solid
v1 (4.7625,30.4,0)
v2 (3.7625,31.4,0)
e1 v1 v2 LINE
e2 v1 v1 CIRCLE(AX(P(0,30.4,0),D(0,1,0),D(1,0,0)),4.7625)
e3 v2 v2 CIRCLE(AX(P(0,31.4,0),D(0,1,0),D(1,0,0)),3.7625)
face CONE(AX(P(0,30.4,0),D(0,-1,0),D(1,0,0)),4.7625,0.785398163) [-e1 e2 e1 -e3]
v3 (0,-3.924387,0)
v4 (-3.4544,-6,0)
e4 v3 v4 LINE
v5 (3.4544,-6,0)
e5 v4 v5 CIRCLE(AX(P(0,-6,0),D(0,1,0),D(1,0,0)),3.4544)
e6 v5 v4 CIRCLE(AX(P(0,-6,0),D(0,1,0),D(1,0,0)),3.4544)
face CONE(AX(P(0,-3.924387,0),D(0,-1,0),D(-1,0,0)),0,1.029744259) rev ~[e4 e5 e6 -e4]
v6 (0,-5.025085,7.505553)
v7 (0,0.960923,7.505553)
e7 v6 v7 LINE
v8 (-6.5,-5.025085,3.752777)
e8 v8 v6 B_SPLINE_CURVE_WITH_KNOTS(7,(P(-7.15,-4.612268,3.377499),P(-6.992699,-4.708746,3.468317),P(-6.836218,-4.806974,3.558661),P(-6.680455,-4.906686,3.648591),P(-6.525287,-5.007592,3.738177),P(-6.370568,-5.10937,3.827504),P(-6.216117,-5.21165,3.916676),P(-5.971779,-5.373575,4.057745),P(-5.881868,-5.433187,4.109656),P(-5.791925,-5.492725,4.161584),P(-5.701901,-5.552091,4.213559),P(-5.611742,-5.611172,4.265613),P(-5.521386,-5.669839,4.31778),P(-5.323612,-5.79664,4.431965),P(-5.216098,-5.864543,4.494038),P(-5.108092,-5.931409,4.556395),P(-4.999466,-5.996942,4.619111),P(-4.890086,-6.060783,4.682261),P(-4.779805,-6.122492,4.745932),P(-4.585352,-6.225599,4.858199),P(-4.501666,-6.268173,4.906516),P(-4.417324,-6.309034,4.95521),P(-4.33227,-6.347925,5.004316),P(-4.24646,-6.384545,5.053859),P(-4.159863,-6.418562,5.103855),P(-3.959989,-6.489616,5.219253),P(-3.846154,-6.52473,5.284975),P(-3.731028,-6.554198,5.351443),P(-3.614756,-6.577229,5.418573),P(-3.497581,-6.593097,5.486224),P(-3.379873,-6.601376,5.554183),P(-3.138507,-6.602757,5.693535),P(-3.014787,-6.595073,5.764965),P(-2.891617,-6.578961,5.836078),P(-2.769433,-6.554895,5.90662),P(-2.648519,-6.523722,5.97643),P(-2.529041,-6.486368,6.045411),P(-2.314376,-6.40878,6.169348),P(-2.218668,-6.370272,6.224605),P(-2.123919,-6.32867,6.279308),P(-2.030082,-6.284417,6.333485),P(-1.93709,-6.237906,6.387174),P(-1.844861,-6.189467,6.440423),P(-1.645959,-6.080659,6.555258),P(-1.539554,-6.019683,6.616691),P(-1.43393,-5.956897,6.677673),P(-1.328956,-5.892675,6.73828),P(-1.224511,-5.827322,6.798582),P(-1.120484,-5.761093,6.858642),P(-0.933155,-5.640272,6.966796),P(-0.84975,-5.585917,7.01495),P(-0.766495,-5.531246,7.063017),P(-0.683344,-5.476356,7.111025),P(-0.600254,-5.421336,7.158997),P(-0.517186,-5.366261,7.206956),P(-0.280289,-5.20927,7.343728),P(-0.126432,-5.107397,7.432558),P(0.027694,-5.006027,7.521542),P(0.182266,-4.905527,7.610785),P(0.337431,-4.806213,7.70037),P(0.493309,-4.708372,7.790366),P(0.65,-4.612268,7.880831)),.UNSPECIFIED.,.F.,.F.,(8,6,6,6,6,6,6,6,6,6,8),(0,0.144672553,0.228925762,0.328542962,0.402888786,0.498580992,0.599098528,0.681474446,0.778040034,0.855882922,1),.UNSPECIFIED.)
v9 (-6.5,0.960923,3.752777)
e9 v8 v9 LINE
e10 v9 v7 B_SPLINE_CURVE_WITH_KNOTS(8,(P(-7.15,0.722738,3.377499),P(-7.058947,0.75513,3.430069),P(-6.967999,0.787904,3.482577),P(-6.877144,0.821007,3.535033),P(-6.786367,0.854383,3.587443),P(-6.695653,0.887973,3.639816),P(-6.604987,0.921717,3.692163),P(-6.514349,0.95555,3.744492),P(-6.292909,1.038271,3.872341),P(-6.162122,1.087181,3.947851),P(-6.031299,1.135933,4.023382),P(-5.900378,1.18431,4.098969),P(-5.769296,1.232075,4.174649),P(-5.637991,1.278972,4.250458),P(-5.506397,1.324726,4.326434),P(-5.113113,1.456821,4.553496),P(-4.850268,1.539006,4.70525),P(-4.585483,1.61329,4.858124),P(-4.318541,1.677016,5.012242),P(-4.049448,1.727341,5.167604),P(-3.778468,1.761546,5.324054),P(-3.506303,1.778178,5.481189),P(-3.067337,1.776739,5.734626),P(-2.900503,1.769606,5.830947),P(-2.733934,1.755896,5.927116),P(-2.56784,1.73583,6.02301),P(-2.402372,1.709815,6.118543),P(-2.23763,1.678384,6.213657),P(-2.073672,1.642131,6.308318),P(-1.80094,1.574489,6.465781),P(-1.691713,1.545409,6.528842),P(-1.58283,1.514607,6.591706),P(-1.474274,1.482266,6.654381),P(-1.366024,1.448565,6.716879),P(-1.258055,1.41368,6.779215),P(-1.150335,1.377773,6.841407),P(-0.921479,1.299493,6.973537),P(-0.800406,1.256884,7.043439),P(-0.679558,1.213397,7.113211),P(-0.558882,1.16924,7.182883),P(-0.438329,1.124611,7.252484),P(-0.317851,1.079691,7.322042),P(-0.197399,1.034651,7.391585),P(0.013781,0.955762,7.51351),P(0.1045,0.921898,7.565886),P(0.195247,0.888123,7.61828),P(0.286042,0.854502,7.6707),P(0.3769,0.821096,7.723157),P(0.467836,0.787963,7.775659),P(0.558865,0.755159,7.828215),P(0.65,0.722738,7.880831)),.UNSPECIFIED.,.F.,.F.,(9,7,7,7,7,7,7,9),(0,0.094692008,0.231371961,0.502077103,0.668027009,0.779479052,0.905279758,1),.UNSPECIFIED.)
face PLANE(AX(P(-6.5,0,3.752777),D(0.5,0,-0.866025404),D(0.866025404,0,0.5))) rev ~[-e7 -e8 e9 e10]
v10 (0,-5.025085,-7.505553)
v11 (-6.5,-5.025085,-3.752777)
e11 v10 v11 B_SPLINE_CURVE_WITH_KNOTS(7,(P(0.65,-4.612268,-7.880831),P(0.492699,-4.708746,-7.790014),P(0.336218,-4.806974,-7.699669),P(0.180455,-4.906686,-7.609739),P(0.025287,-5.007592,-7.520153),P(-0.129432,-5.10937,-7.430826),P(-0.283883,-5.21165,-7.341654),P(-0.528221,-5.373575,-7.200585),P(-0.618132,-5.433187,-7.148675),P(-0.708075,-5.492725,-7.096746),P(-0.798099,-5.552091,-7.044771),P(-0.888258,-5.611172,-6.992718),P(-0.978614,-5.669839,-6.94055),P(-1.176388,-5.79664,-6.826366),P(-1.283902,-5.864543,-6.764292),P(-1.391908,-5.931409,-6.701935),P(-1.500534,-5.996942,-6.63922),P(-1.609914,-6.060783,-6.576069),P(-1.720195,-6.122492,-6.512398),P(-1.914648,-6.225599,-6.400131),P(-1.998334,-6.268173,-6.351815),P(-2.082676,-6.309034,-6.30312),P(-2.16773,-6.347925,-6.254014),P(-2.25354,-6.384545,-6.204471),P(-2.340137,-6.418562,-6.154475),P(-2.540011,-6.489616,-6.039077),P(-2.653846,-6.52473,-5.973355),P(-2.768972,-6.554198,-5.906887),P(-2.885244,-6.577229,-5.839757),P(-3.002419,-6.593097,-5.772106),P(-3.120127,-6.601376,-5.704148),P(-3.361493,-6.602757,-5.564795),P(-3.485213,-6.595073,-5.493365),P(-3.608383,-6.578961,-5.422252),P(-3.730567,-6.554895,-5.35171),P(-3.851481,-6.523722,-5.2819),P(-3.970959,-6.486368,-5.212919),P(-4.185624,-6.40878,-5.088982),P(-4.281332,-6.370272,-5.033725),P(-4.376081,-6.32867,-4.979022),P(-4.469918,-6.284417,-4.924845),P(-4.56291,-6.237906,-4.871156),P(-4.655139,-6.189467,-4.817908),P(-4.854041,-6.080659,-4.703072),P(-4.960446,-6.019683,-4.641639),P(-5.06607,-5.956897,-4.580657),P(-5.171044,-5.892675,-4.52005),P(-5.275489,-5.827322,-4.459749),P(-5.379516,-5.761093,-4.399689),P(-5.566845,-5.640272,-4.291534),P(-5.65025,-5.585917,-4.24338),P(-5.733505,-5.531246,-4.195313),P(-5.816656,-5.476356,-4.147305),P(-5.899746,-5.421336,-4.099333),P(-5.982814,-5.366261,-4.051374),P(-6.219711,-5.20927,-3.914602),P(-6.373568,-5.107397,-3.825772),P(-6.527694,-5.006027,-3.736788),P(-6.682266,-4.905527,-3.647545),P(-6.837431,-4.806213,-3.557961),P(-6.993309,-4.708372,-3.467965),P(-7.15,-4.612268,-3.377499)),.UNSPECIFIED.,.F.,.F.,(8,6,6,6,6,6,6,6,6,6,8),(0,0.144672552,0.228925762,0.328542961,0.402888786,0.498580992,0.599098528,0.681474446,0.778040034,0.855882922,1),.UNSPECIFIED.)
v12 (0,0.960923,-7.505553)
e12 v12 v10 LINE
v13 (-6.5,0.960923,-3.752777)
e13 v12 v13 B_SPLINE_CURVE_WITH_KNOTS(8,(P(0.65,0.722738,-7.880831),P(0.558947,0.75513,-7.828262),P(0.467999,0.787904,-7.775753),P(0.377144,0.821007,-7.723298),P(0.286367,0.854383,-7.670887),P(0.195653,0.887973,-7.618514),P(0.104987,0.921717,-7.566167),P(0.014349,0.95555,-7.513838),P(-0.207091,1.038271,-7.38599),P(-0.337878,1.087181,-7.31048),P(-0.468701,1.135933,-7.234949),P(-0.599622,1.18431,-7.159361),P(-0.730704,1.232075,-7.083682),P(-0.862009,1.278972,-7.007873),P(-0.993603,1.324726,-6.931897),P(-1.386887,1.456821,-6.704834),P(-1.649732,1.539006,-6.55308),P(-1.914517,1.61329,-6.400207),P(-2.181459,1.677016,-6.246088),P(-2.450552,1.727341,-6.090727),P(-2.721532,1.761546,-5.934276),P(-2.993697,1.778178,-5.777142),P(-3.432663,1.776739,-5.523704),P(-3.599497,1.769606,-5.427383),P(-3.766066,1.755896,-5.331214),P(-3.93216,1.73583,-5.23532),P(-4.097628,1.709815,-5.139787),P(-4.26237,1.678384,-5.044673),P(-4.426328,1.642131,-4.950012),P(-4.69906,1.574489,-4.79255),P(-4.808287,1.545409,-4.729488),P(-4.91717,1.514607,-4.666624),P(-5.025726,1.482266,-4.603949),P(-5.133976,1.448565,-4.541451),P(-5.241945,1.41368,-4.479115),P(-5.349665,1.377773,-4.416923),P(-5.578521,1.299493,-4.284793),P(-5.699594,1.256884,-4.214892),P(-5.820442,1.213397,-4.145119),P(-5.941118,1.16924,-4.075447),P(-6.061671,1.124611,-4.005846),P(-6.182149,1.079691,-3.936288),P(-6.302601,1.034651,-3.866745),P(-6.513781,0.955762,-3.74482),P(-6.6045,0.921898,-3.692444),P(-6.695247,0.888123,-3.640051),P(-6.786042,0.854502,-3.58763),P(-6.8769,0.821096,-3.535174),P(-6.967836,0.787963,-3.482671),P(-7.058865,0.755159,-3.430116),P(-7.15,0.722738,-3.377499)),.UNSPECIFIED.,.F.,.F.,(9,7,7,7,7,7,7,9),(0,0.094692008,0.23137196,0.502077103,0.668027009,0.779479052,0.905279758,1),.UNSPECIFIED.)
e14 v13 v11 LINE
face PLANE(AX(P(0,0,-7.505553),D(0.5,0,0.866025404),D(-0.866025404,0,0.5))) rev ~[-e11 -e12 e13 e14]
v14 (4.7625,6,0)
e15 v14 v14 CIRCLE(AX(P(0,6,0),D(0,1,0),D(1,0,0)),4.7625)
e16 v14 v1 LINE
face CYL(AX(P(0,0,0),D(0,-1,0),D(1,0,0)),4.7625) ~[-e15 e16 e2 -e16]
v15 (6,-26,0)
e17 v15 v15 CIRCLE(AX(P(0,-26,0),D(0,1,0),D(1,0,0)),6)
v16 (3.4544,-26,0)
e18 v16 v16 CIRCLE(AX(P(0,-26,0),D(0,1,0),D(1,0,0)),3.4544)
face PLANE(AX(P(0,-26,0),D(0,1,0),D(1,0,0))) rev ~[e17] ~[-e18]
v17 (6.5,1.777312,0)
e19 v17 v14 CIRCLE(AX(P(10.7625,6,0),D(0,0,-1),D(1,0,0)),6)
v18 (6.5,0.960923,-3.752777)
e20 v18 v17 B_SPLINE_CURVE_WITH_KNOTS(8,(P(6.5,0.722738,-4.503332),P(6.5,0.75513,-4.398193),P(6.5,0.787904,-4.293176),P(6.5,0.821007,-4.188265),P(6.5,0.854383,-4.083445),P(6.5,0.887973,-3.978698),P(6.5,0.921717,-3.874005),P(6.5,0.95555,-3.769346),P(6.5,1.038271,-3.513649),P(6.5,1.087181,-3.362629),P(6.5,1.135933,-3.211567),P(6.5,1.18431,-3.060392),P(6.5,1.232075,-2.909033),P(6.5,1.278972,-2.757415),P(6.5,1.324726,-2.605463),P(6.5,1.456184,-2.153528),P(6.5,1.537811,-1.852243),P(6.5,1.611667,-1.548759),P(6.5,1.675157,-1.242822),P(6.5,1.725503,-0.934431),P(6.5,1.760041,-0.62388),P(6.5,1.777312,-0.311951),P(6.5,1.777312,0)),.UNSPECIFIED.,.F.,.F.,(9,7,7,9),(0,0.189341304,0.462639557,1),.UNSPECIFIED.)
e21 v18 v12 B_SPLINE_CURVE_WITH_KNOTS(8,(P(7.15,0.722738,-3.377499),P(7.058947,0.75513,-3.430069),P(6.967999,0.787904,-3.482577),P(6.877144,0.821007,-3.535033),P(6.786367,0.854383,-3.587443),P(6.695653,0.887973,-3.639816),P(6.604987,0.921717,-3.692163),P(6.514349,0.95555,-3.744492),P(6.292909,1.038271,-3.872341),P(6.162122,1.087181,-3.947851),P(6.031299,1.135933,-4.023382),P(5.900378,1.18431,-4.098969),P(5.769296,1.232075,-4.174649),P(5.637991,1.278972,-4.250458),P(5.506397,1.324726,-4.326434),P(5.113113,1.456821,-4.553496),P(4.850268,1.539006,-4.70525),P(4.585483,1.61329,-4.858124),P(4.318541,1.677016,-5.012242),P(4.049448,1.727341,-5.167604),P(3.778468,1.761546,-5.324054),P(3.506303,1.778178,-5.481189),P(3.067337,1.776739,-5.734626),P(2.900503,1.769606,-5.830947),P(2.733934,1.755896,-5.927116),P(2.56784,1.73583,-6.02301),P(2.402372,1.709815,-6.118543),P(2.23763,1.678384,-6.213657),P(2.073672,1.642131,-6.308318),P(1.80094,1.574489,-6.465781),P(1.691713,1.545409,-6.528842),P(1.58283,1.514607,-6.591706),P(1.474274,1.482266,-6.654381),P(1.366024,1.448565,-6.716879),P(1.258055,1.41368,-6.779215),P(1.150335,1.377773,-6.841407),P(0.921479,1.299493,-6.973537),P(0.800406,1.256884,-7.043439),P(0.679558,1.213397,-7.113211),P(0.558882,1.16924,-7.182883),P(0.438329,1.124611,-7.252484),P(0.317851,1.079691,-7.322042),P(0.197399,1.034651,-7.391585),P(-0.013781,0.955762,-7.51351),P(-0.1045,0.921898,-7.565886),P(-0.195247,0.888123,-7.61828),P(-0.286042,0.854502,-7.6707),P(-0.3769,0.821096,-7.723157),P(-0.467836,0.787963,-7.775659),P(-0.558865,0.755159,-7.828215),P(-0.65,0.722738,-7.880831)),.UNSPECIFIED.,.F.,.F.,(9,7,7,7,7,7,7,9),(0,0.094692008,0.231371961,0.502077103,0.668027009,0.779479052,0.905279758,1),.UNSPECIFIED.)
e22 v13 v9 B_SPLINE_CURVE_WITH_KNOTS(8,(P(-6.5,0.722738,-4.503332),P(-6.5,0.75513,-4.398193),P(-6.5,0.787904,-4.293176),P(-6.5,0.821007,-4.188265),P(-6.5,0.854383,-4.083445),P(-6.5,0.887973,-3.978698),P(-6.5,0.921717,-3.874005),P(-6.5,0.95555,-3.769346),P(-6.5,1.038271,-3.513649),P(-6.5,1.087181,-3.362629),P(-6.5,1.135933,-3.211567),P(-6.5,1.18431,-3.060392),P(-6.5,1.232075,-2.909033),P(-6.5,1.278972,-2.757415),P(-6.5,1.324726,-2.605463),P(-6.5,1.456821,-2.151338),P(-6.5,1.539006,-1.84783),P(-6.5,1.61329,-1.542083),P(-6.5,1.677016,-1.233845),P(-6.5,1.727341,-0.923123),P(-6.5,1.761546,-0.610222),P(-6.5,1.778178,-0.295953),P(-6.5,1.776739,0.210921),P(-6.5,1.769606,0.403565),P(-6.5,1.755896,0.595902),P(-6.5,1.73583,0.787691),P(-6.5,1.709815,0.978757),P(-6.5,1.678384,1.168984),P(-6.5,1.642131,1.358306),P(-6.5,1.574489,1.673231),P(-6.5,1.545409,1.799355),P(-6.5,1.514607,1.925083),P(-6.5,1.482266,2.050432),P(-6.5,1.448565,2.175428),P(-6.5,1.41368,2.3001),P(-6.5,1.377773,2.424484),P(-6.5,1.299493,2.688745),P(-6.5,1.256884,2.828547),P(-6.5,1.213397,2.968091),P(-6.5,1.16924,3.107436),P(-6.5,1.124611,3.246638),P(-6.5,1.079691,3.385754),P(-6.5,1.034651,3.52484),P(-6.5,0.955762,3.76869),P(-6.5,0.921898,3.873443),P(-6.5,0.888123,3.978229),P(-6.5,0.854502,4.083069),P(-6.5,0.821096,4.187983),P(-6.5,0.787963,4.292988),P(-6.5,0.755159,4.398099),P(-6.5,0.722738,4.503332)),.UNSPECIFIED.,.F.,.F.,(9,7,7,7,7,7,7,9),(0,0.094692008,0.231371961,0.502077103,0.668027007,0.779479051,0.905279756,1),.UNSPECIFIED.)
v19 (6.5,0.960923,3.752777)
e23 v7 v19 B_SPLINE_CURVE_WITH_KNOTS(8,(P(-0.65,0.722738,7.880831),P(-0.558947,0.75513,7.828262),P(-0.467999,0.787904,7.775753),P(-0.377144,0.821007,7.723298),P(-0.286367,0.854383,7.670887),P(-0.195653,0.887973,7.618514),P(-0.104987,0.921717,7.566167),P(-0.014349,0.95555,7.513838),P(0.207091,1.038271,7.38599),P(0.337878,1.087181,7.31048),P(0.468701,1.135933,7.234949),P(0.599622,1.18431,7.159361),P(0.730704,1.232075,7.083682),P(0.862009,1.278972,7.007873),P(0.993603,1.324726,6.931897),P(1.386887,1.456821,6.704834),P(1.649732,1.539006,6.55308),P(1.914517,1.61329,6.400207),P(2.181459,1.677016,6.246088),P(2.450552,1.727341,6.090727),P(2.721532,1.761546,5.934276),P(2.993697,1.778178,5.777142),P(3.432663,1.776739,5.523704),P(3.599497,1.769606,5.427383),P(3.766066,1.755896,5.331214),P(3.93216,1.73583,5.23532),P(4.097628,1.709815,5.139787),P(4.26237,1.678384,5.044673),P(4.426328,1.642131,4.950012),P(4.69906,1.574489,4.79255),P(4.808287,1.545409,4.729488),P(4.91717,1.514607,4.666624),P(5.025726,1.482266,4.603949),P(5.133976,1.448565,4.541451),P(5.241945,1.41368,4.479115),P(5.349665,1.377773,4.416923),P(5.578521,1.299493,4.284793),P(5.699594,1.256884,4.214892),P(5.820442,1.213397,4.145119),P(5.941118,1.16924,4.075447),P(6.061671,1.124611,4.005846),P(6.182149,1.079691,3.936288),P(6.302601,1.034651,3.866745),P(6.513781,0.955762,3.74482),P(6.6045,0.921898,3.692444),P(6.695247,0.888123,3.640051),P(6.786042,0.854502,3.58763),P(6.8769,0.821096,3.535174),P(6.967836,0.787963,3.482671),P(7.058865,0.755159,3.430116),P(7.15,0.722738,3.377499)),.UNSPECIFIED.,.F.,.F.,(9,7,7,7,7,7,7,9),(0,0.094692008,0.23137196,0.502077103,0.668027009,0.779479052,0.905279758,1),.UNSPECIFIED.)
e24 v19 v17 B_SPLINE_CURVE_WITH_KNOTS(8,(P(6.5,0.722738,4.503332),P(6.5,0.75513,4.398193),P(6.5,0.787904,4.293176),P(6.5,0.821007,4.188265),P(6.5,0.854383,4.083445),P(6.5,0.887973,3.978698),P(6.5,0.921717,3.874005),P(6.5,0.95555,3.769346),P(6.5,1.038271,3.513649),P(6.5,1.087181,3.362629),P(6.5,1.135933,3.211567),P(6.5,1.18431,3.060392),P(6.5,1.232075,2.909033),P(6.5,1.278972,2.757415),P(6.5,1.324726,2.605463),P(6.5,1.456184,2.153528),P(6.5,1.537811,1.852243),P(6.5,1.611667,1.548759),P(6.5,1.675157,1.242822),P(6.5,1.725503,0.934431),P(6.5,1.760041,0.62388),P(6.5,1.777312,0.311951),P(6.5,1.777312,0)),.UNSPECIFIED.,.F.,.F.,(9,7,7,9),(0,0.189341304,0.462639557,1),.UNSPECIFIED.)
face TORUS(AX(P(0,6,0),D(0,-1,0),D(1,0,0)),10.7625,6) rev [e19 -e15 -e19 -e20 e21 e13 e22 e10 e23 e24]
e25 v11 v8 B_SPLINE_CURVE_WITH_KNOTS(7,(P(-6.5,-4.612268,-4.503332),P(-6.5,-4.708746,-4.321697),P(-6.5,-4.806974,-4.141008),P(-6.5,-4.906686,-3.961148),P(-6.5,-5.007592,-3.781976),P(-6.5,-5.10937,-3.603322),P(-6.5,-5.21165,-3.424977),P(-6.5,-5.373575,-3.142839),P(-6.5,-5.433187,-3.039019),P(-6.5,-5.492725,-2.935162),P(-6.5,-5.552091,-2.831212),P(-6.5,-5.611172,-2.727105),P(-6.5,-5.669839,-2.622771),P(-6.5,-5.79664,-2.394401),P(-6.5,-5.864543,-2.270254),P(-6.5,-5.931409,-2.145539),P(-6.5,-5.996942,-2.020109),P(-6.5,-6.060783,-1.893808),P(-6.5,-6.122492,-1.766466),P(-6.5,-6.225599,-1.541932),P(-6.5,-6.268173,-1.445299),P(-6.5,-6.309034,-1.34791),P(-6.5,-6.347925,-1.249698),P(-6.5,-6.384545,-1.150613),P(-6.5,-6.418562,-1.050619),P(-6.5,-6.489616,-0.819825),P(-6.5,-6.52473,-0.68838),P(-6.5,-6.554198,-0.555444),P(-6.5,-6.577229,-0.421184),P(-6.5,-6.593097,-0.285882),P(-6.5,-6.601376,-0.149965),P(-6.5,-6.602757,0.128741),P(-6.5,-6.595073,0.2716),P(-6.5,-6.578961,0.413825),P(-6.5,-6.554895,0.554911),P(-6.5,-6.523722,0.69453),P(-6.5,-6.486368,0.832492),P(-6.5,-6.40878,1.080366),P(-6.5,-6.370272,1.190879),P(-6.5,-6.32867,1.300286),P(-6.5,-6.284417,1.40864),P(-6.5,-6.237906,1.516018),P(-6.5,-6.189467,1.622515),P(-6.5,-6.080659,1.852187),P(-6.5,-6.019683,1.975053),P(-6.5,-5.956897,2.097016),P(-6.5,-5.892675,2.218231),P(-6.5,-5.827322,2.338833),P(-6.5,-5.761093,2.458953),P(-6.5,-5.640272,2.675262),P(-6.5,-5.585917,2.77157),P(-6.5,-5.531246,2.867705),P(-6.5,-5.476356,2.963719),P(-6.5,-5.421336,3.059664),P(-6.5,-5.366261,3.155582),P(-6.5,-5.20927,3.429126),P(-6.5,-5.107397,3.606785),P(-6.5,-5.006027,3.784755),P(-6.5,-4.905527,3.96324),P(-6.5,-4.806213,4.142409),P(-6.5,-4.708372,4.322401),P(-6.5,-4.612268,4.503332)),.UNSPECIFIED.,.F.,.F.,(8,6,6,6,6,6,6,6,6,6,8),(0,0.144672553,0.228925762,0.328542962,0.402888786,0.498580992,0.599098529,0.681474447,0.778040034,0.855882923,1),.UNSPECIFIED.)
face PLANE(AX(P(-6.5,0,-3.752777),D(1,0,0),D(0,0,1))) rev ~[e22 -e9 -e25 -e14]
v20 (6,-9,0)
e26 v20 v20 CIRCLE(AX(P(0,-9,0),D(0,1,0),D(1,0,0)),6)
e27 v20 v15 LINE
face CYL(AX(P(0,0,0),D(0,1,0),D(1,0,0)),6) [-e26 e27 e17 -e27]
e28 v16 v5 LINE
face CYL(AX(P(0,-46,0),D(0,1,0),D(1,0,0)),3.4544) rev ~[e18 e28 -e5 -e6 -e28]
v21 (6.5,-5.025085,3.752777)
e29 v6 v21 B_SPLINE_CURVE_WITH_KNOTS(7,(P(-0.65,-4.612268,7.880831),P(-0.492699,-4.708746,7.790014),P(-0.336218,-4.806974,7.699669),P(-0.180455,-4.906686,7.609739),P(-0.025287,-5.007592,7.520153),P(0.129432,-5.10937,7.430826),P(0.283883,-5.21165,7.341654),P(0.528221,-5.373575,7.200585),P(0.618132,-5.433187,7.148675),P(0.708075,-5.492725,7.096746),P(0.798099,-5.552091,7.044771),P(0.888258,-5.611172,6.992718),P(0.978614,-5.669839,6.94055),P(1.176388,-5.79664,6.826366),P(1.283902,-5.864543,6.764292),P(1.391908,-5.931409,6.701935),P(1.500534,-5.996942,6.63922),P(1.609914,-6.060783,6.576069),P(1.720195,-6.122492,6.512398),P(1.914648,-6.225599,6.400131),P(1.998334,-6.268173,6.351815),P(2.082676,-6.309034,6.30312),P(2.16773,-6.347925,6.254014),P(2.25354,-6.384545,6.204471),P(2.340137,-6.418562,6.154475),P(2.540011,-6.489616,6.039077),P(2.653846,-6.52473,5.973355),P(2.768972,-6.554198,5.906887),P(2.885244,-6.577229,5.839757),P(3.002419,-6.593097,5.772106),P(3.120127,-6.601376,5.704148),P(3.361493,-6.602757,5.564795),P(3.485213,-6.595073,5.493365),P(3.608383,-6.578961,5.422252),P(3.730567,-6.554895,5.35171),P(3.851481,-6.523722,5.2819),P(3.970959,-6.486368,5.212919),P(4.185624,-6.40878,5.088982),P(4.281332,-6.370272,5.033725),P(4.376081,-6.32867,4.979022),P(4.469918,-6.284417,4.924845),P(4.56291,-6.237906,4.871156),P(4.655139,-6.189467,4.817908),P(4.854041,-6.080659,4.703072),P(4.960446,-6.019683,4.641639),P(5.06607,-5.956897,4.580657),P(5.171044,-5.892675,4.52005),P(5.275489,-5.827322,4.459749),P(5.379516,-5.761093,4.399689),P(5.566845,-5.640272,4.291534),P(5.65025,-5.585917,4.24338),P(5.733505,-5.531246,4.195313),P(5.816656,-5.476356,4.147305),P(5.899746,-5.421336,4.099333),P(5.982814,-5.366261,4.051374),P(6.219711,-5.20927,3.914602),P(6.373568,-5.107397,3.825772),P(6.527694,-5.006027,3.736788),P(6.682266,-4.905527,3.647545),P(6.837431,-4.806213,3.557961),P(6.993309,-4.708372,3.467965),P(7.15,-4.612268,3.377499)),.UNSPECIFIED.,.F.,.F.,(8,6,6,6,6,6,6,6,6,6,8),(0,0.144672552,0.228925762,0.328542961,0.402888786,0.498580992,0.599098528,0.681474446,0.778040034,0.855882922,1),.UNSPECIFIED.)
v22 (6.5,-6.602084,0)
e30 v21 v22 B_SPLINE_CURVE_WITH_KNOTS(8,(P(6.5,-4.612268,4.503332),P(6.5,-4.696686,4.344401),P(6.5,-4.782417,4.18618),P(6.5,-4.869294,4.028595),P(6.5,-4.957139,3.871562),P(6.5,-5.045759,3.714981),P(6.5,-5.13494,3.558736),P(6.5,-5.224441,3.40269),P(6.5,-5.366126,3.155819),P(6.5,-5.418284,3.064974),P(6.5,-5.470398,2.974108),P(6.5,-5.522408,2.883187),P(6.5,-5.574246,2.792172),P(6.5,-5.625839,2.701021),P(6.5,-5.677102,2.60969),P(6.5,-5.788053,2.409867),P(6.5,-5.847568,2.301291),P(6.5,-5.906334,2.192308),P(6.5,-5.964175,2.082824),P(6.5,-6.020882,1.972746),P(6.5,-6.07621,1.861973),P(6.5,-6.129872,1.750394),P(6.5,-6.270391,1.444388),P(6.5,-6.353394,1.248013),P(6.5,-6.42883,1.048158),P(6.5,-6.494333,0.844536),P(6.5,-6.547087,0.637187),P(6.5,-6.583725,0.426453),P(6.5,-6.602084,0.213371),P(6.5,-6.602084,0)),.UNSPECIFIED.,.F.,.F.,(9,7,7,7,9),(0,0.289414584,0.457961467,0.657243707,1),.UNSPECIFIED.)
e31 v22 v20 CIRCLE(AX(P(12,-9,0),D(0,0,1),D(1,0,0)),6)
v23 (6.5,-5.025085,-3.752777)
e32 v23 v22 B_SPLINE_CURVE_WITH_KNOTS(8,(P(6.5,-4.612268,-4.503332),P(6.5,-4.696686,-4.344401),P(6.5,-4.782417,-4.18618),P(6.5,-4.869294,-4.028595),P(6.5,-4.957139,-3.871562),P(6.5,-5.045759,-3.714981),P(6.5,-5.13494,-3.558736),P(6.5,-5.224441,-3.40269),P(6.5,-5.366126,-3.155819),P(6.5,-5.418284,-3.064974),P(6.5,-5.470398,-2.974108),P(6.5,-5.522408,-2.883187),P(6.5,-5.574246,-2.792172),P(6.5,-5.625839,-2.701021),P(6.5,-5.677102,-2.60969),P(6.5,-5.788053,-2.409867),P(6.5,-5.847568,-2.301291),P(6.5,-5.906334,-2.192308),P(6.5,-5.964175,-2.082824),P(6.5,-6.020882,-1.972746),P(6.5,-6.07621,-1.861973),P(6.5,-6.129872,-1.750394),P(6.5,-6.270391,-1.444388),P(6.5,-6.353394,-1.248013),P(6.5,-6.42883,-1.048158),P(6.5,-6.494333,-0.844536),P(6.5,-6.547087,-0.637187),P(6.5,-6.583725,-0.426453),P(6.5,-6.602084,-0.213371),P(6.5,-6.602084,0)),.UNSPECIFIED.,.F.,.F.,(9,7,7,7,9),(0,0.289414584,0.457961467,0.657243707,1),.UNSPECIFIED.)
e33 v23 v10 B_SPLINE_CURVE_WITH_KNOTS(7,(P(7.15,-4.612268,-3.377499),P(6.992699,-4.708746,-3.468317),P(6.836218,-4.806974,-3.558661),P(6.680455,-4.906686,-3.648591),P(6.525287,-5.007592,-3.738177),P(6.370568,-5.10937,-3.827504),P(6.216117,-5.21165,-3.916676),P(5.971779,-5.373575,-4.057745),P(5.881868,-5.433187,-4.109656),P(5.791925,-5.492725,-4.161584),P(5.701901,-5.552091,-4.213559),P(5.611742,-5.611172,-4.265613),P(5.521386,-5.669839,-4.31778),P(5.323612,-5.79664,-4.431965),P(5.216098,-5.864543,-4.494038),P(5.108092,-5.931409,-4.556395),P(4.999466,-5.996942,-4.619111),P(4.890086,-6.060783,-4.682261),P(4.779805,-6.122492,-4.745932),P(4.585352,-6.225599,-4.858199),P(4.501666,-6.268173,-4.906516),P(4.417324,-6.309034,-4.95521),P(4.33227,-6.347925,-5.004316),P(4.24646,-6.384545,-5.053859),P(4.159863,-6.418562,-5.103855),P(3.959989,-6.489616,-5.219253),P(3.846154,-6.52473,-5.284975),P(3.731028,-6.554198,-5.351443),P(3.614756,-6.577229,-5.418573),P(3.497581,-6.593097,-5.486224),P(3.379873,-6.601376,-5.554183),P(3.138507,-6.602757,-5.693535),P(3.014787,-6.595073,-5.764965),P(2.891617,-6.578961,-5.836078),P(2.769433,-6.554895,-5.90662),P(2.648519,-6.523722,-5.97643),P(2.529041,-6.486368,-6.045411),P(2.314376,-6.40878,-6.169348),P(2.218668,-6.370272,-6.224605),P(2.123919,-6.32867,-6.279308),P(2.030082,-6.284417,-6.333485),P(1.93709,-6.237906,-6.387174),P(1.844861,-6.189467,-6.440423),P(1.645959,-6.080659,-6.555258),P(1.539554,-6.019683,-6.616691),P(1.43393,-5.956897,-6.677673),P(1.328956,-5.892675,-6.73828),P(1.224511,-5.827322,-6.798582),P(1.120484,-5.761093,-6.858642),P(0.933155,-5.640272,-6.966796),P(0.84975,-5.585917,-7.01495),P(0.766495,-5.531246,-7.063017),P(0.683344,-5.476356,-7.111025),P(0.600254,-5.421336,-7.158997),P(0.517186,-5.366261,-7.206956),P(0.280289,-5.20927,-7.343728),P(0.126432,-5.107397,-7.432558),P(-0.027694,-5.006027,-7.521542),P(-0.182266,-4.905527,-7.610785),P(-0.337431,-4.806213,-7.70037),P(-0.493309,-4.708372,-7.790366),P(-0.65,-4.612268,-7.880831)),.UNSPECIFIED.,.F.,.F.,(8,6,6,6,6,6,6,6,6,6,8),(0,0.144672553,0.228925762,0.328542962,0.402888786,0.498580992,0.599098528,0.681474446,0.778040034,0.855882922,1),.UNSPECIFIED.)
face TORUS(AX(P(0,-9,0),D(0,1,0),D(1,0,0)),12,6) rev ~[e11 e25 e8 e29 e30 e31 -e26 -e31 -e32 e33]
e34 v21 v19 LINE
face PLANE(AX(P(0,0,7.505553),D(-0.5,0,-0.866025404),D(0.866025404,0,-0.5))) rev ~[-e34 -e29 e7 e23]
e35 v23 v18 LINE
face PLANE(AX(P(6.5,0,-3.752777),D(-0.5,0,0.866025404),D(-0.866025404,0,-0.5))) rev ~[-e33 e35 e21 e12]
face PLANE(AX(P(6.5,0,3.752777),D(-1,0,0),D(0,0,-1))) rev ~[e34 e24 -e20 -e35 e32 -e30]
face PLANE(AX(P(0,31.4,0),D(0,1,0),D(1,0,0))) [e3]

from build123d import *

# Parameters (mm, degrees)
SKETCH1_R                    = 4.7625
BOSS_EXTRUDE1_DEPTH          = 31.4
SKETCH3_R                    = 12.7
BOSS_EXTRUDE2_DEPTH          = 3
SKETCH4_R                    = 6
BOSS_EXTRUDE3_DEPTH          = 26
FILLET1_R                    = 6
F_5_16_24_TAPPED_HOLE1_D     = 6.9088
F_5_16_24_TAPPED_HOLE1_DEPTH = 20
F_5_16_24_TAPPED_HOLE1_TIP   = 2.075612922
SKETCH2_OUTSIDE_W            = 40.942
SKETCH2_OUTSIDE_H            = 40.942
CUT_EXTRUDE1_DEPTH           = 32.4
CUT_EXTRUDE1_DEPTH_BACK      = 27
CHAMFER1_SIZE                = 1


with BuildPart() as part:
    # Sketch1 → Boss-Extrude1 (new body)
    with BuildSketch(Plane(origin=(0, 0, 0), x_dir=(1, 0, 0), z_dir=(0, 1, 0))):
        Circle(SKETCH1_R)
    extrude(amount=BOSS_EXTRUDE1_DEPTH)

    # Sketch3 → Boss-Extrude2 (add)
    with BuildSketch(Plane(origin=(0, 0, 0), x_dir=(1, 0, 0), z_dir=(0, 1, 0))):
        Circle(SKETCH3_R)
    extrude(amount=-BOSS_EXTRUDE2_DEPTH)

    # Sketch4 → Boss-Extrude3 (add)
    with BuildSketch(Plane(origin=(0, 0, 0), x_dir=(1, 0, 0), z_dir=(0, 1, 0))):
        Circle(SKETCH4_R)
    extrude(amount=-BOSS_EXTRUDE3_DEPTH)

    # Fillet1
    fillet1_edges = [part.edges().sort_by_distance(p)[0] for p in [
        (-6, -3, 0),
        (-4.7625, 0, 0),
    ]]
    fillet(fillet1_edges, radius=FILLET1_R)

    # 5/16-24 Tapped Hole1
    with Locations(Plane(origin=(0, -26, 0), x_dir=(-1, 0, 0), z_dir=(0, -1, 0))):
        with Locations((0, 0)):
            Hole(F_5_16_24_TAPPED_HOLE1_D / 2, depth=F_5_16_24_TAPPED_HOLE1_DEPTH)
            with Locations((0, 0, -(F_5_16_24_TAPPED_HOLE1_DEPTH + F_5_16_24_TAPPED_HOLE1_TIP / 2))):  # 118° drill point
                Cone(0, F_5_16_24_TAPPED_HOLE1_D / 2, F_5_16_24_TAPPED_HOLE1_TIP, mode=Mode.SUBTRACT)

    # Sketch2 outside → Cut-Extrude1 (cut, two sides)
    with BuildSketch(Plane(origin=(0, 0, 0), x_dir=(1, 0, 0), z_dir=(0, 1, 0))) as cut_extrude1_sk:
        Rectangle(SKETCH2_OUTSIDE_W, SKETCH2_OUTSIDE_H)
        Polygon((6.5, -3.75277675), (6.5, 3.75277675), (0, 7.505553499), (-6.5, 3.75277675), (-6.5, -3.75277675), (0, -7.505553499), align=None, mode=Mode.SUBTRACT)
    extrude(amount=CUT_EXTRUDE1_DEPTH, mode=Mode.SUBTRACT)
    extrude(cut_extrude1_sk.sketch, amount=-CUT_EXTRUDE1_DEPTH_BACK, mode=Mode.SUBTRACT)

    # Chamfer1
    chamfer1_edges = [part.edges().sort_by_distance(p)[0] for p in [
        (-4.7625, 31.4, 0),
    ]]
    chamfer(chamfer1_edges, length=CHAMFER1_SIZE)


solid = part.part
